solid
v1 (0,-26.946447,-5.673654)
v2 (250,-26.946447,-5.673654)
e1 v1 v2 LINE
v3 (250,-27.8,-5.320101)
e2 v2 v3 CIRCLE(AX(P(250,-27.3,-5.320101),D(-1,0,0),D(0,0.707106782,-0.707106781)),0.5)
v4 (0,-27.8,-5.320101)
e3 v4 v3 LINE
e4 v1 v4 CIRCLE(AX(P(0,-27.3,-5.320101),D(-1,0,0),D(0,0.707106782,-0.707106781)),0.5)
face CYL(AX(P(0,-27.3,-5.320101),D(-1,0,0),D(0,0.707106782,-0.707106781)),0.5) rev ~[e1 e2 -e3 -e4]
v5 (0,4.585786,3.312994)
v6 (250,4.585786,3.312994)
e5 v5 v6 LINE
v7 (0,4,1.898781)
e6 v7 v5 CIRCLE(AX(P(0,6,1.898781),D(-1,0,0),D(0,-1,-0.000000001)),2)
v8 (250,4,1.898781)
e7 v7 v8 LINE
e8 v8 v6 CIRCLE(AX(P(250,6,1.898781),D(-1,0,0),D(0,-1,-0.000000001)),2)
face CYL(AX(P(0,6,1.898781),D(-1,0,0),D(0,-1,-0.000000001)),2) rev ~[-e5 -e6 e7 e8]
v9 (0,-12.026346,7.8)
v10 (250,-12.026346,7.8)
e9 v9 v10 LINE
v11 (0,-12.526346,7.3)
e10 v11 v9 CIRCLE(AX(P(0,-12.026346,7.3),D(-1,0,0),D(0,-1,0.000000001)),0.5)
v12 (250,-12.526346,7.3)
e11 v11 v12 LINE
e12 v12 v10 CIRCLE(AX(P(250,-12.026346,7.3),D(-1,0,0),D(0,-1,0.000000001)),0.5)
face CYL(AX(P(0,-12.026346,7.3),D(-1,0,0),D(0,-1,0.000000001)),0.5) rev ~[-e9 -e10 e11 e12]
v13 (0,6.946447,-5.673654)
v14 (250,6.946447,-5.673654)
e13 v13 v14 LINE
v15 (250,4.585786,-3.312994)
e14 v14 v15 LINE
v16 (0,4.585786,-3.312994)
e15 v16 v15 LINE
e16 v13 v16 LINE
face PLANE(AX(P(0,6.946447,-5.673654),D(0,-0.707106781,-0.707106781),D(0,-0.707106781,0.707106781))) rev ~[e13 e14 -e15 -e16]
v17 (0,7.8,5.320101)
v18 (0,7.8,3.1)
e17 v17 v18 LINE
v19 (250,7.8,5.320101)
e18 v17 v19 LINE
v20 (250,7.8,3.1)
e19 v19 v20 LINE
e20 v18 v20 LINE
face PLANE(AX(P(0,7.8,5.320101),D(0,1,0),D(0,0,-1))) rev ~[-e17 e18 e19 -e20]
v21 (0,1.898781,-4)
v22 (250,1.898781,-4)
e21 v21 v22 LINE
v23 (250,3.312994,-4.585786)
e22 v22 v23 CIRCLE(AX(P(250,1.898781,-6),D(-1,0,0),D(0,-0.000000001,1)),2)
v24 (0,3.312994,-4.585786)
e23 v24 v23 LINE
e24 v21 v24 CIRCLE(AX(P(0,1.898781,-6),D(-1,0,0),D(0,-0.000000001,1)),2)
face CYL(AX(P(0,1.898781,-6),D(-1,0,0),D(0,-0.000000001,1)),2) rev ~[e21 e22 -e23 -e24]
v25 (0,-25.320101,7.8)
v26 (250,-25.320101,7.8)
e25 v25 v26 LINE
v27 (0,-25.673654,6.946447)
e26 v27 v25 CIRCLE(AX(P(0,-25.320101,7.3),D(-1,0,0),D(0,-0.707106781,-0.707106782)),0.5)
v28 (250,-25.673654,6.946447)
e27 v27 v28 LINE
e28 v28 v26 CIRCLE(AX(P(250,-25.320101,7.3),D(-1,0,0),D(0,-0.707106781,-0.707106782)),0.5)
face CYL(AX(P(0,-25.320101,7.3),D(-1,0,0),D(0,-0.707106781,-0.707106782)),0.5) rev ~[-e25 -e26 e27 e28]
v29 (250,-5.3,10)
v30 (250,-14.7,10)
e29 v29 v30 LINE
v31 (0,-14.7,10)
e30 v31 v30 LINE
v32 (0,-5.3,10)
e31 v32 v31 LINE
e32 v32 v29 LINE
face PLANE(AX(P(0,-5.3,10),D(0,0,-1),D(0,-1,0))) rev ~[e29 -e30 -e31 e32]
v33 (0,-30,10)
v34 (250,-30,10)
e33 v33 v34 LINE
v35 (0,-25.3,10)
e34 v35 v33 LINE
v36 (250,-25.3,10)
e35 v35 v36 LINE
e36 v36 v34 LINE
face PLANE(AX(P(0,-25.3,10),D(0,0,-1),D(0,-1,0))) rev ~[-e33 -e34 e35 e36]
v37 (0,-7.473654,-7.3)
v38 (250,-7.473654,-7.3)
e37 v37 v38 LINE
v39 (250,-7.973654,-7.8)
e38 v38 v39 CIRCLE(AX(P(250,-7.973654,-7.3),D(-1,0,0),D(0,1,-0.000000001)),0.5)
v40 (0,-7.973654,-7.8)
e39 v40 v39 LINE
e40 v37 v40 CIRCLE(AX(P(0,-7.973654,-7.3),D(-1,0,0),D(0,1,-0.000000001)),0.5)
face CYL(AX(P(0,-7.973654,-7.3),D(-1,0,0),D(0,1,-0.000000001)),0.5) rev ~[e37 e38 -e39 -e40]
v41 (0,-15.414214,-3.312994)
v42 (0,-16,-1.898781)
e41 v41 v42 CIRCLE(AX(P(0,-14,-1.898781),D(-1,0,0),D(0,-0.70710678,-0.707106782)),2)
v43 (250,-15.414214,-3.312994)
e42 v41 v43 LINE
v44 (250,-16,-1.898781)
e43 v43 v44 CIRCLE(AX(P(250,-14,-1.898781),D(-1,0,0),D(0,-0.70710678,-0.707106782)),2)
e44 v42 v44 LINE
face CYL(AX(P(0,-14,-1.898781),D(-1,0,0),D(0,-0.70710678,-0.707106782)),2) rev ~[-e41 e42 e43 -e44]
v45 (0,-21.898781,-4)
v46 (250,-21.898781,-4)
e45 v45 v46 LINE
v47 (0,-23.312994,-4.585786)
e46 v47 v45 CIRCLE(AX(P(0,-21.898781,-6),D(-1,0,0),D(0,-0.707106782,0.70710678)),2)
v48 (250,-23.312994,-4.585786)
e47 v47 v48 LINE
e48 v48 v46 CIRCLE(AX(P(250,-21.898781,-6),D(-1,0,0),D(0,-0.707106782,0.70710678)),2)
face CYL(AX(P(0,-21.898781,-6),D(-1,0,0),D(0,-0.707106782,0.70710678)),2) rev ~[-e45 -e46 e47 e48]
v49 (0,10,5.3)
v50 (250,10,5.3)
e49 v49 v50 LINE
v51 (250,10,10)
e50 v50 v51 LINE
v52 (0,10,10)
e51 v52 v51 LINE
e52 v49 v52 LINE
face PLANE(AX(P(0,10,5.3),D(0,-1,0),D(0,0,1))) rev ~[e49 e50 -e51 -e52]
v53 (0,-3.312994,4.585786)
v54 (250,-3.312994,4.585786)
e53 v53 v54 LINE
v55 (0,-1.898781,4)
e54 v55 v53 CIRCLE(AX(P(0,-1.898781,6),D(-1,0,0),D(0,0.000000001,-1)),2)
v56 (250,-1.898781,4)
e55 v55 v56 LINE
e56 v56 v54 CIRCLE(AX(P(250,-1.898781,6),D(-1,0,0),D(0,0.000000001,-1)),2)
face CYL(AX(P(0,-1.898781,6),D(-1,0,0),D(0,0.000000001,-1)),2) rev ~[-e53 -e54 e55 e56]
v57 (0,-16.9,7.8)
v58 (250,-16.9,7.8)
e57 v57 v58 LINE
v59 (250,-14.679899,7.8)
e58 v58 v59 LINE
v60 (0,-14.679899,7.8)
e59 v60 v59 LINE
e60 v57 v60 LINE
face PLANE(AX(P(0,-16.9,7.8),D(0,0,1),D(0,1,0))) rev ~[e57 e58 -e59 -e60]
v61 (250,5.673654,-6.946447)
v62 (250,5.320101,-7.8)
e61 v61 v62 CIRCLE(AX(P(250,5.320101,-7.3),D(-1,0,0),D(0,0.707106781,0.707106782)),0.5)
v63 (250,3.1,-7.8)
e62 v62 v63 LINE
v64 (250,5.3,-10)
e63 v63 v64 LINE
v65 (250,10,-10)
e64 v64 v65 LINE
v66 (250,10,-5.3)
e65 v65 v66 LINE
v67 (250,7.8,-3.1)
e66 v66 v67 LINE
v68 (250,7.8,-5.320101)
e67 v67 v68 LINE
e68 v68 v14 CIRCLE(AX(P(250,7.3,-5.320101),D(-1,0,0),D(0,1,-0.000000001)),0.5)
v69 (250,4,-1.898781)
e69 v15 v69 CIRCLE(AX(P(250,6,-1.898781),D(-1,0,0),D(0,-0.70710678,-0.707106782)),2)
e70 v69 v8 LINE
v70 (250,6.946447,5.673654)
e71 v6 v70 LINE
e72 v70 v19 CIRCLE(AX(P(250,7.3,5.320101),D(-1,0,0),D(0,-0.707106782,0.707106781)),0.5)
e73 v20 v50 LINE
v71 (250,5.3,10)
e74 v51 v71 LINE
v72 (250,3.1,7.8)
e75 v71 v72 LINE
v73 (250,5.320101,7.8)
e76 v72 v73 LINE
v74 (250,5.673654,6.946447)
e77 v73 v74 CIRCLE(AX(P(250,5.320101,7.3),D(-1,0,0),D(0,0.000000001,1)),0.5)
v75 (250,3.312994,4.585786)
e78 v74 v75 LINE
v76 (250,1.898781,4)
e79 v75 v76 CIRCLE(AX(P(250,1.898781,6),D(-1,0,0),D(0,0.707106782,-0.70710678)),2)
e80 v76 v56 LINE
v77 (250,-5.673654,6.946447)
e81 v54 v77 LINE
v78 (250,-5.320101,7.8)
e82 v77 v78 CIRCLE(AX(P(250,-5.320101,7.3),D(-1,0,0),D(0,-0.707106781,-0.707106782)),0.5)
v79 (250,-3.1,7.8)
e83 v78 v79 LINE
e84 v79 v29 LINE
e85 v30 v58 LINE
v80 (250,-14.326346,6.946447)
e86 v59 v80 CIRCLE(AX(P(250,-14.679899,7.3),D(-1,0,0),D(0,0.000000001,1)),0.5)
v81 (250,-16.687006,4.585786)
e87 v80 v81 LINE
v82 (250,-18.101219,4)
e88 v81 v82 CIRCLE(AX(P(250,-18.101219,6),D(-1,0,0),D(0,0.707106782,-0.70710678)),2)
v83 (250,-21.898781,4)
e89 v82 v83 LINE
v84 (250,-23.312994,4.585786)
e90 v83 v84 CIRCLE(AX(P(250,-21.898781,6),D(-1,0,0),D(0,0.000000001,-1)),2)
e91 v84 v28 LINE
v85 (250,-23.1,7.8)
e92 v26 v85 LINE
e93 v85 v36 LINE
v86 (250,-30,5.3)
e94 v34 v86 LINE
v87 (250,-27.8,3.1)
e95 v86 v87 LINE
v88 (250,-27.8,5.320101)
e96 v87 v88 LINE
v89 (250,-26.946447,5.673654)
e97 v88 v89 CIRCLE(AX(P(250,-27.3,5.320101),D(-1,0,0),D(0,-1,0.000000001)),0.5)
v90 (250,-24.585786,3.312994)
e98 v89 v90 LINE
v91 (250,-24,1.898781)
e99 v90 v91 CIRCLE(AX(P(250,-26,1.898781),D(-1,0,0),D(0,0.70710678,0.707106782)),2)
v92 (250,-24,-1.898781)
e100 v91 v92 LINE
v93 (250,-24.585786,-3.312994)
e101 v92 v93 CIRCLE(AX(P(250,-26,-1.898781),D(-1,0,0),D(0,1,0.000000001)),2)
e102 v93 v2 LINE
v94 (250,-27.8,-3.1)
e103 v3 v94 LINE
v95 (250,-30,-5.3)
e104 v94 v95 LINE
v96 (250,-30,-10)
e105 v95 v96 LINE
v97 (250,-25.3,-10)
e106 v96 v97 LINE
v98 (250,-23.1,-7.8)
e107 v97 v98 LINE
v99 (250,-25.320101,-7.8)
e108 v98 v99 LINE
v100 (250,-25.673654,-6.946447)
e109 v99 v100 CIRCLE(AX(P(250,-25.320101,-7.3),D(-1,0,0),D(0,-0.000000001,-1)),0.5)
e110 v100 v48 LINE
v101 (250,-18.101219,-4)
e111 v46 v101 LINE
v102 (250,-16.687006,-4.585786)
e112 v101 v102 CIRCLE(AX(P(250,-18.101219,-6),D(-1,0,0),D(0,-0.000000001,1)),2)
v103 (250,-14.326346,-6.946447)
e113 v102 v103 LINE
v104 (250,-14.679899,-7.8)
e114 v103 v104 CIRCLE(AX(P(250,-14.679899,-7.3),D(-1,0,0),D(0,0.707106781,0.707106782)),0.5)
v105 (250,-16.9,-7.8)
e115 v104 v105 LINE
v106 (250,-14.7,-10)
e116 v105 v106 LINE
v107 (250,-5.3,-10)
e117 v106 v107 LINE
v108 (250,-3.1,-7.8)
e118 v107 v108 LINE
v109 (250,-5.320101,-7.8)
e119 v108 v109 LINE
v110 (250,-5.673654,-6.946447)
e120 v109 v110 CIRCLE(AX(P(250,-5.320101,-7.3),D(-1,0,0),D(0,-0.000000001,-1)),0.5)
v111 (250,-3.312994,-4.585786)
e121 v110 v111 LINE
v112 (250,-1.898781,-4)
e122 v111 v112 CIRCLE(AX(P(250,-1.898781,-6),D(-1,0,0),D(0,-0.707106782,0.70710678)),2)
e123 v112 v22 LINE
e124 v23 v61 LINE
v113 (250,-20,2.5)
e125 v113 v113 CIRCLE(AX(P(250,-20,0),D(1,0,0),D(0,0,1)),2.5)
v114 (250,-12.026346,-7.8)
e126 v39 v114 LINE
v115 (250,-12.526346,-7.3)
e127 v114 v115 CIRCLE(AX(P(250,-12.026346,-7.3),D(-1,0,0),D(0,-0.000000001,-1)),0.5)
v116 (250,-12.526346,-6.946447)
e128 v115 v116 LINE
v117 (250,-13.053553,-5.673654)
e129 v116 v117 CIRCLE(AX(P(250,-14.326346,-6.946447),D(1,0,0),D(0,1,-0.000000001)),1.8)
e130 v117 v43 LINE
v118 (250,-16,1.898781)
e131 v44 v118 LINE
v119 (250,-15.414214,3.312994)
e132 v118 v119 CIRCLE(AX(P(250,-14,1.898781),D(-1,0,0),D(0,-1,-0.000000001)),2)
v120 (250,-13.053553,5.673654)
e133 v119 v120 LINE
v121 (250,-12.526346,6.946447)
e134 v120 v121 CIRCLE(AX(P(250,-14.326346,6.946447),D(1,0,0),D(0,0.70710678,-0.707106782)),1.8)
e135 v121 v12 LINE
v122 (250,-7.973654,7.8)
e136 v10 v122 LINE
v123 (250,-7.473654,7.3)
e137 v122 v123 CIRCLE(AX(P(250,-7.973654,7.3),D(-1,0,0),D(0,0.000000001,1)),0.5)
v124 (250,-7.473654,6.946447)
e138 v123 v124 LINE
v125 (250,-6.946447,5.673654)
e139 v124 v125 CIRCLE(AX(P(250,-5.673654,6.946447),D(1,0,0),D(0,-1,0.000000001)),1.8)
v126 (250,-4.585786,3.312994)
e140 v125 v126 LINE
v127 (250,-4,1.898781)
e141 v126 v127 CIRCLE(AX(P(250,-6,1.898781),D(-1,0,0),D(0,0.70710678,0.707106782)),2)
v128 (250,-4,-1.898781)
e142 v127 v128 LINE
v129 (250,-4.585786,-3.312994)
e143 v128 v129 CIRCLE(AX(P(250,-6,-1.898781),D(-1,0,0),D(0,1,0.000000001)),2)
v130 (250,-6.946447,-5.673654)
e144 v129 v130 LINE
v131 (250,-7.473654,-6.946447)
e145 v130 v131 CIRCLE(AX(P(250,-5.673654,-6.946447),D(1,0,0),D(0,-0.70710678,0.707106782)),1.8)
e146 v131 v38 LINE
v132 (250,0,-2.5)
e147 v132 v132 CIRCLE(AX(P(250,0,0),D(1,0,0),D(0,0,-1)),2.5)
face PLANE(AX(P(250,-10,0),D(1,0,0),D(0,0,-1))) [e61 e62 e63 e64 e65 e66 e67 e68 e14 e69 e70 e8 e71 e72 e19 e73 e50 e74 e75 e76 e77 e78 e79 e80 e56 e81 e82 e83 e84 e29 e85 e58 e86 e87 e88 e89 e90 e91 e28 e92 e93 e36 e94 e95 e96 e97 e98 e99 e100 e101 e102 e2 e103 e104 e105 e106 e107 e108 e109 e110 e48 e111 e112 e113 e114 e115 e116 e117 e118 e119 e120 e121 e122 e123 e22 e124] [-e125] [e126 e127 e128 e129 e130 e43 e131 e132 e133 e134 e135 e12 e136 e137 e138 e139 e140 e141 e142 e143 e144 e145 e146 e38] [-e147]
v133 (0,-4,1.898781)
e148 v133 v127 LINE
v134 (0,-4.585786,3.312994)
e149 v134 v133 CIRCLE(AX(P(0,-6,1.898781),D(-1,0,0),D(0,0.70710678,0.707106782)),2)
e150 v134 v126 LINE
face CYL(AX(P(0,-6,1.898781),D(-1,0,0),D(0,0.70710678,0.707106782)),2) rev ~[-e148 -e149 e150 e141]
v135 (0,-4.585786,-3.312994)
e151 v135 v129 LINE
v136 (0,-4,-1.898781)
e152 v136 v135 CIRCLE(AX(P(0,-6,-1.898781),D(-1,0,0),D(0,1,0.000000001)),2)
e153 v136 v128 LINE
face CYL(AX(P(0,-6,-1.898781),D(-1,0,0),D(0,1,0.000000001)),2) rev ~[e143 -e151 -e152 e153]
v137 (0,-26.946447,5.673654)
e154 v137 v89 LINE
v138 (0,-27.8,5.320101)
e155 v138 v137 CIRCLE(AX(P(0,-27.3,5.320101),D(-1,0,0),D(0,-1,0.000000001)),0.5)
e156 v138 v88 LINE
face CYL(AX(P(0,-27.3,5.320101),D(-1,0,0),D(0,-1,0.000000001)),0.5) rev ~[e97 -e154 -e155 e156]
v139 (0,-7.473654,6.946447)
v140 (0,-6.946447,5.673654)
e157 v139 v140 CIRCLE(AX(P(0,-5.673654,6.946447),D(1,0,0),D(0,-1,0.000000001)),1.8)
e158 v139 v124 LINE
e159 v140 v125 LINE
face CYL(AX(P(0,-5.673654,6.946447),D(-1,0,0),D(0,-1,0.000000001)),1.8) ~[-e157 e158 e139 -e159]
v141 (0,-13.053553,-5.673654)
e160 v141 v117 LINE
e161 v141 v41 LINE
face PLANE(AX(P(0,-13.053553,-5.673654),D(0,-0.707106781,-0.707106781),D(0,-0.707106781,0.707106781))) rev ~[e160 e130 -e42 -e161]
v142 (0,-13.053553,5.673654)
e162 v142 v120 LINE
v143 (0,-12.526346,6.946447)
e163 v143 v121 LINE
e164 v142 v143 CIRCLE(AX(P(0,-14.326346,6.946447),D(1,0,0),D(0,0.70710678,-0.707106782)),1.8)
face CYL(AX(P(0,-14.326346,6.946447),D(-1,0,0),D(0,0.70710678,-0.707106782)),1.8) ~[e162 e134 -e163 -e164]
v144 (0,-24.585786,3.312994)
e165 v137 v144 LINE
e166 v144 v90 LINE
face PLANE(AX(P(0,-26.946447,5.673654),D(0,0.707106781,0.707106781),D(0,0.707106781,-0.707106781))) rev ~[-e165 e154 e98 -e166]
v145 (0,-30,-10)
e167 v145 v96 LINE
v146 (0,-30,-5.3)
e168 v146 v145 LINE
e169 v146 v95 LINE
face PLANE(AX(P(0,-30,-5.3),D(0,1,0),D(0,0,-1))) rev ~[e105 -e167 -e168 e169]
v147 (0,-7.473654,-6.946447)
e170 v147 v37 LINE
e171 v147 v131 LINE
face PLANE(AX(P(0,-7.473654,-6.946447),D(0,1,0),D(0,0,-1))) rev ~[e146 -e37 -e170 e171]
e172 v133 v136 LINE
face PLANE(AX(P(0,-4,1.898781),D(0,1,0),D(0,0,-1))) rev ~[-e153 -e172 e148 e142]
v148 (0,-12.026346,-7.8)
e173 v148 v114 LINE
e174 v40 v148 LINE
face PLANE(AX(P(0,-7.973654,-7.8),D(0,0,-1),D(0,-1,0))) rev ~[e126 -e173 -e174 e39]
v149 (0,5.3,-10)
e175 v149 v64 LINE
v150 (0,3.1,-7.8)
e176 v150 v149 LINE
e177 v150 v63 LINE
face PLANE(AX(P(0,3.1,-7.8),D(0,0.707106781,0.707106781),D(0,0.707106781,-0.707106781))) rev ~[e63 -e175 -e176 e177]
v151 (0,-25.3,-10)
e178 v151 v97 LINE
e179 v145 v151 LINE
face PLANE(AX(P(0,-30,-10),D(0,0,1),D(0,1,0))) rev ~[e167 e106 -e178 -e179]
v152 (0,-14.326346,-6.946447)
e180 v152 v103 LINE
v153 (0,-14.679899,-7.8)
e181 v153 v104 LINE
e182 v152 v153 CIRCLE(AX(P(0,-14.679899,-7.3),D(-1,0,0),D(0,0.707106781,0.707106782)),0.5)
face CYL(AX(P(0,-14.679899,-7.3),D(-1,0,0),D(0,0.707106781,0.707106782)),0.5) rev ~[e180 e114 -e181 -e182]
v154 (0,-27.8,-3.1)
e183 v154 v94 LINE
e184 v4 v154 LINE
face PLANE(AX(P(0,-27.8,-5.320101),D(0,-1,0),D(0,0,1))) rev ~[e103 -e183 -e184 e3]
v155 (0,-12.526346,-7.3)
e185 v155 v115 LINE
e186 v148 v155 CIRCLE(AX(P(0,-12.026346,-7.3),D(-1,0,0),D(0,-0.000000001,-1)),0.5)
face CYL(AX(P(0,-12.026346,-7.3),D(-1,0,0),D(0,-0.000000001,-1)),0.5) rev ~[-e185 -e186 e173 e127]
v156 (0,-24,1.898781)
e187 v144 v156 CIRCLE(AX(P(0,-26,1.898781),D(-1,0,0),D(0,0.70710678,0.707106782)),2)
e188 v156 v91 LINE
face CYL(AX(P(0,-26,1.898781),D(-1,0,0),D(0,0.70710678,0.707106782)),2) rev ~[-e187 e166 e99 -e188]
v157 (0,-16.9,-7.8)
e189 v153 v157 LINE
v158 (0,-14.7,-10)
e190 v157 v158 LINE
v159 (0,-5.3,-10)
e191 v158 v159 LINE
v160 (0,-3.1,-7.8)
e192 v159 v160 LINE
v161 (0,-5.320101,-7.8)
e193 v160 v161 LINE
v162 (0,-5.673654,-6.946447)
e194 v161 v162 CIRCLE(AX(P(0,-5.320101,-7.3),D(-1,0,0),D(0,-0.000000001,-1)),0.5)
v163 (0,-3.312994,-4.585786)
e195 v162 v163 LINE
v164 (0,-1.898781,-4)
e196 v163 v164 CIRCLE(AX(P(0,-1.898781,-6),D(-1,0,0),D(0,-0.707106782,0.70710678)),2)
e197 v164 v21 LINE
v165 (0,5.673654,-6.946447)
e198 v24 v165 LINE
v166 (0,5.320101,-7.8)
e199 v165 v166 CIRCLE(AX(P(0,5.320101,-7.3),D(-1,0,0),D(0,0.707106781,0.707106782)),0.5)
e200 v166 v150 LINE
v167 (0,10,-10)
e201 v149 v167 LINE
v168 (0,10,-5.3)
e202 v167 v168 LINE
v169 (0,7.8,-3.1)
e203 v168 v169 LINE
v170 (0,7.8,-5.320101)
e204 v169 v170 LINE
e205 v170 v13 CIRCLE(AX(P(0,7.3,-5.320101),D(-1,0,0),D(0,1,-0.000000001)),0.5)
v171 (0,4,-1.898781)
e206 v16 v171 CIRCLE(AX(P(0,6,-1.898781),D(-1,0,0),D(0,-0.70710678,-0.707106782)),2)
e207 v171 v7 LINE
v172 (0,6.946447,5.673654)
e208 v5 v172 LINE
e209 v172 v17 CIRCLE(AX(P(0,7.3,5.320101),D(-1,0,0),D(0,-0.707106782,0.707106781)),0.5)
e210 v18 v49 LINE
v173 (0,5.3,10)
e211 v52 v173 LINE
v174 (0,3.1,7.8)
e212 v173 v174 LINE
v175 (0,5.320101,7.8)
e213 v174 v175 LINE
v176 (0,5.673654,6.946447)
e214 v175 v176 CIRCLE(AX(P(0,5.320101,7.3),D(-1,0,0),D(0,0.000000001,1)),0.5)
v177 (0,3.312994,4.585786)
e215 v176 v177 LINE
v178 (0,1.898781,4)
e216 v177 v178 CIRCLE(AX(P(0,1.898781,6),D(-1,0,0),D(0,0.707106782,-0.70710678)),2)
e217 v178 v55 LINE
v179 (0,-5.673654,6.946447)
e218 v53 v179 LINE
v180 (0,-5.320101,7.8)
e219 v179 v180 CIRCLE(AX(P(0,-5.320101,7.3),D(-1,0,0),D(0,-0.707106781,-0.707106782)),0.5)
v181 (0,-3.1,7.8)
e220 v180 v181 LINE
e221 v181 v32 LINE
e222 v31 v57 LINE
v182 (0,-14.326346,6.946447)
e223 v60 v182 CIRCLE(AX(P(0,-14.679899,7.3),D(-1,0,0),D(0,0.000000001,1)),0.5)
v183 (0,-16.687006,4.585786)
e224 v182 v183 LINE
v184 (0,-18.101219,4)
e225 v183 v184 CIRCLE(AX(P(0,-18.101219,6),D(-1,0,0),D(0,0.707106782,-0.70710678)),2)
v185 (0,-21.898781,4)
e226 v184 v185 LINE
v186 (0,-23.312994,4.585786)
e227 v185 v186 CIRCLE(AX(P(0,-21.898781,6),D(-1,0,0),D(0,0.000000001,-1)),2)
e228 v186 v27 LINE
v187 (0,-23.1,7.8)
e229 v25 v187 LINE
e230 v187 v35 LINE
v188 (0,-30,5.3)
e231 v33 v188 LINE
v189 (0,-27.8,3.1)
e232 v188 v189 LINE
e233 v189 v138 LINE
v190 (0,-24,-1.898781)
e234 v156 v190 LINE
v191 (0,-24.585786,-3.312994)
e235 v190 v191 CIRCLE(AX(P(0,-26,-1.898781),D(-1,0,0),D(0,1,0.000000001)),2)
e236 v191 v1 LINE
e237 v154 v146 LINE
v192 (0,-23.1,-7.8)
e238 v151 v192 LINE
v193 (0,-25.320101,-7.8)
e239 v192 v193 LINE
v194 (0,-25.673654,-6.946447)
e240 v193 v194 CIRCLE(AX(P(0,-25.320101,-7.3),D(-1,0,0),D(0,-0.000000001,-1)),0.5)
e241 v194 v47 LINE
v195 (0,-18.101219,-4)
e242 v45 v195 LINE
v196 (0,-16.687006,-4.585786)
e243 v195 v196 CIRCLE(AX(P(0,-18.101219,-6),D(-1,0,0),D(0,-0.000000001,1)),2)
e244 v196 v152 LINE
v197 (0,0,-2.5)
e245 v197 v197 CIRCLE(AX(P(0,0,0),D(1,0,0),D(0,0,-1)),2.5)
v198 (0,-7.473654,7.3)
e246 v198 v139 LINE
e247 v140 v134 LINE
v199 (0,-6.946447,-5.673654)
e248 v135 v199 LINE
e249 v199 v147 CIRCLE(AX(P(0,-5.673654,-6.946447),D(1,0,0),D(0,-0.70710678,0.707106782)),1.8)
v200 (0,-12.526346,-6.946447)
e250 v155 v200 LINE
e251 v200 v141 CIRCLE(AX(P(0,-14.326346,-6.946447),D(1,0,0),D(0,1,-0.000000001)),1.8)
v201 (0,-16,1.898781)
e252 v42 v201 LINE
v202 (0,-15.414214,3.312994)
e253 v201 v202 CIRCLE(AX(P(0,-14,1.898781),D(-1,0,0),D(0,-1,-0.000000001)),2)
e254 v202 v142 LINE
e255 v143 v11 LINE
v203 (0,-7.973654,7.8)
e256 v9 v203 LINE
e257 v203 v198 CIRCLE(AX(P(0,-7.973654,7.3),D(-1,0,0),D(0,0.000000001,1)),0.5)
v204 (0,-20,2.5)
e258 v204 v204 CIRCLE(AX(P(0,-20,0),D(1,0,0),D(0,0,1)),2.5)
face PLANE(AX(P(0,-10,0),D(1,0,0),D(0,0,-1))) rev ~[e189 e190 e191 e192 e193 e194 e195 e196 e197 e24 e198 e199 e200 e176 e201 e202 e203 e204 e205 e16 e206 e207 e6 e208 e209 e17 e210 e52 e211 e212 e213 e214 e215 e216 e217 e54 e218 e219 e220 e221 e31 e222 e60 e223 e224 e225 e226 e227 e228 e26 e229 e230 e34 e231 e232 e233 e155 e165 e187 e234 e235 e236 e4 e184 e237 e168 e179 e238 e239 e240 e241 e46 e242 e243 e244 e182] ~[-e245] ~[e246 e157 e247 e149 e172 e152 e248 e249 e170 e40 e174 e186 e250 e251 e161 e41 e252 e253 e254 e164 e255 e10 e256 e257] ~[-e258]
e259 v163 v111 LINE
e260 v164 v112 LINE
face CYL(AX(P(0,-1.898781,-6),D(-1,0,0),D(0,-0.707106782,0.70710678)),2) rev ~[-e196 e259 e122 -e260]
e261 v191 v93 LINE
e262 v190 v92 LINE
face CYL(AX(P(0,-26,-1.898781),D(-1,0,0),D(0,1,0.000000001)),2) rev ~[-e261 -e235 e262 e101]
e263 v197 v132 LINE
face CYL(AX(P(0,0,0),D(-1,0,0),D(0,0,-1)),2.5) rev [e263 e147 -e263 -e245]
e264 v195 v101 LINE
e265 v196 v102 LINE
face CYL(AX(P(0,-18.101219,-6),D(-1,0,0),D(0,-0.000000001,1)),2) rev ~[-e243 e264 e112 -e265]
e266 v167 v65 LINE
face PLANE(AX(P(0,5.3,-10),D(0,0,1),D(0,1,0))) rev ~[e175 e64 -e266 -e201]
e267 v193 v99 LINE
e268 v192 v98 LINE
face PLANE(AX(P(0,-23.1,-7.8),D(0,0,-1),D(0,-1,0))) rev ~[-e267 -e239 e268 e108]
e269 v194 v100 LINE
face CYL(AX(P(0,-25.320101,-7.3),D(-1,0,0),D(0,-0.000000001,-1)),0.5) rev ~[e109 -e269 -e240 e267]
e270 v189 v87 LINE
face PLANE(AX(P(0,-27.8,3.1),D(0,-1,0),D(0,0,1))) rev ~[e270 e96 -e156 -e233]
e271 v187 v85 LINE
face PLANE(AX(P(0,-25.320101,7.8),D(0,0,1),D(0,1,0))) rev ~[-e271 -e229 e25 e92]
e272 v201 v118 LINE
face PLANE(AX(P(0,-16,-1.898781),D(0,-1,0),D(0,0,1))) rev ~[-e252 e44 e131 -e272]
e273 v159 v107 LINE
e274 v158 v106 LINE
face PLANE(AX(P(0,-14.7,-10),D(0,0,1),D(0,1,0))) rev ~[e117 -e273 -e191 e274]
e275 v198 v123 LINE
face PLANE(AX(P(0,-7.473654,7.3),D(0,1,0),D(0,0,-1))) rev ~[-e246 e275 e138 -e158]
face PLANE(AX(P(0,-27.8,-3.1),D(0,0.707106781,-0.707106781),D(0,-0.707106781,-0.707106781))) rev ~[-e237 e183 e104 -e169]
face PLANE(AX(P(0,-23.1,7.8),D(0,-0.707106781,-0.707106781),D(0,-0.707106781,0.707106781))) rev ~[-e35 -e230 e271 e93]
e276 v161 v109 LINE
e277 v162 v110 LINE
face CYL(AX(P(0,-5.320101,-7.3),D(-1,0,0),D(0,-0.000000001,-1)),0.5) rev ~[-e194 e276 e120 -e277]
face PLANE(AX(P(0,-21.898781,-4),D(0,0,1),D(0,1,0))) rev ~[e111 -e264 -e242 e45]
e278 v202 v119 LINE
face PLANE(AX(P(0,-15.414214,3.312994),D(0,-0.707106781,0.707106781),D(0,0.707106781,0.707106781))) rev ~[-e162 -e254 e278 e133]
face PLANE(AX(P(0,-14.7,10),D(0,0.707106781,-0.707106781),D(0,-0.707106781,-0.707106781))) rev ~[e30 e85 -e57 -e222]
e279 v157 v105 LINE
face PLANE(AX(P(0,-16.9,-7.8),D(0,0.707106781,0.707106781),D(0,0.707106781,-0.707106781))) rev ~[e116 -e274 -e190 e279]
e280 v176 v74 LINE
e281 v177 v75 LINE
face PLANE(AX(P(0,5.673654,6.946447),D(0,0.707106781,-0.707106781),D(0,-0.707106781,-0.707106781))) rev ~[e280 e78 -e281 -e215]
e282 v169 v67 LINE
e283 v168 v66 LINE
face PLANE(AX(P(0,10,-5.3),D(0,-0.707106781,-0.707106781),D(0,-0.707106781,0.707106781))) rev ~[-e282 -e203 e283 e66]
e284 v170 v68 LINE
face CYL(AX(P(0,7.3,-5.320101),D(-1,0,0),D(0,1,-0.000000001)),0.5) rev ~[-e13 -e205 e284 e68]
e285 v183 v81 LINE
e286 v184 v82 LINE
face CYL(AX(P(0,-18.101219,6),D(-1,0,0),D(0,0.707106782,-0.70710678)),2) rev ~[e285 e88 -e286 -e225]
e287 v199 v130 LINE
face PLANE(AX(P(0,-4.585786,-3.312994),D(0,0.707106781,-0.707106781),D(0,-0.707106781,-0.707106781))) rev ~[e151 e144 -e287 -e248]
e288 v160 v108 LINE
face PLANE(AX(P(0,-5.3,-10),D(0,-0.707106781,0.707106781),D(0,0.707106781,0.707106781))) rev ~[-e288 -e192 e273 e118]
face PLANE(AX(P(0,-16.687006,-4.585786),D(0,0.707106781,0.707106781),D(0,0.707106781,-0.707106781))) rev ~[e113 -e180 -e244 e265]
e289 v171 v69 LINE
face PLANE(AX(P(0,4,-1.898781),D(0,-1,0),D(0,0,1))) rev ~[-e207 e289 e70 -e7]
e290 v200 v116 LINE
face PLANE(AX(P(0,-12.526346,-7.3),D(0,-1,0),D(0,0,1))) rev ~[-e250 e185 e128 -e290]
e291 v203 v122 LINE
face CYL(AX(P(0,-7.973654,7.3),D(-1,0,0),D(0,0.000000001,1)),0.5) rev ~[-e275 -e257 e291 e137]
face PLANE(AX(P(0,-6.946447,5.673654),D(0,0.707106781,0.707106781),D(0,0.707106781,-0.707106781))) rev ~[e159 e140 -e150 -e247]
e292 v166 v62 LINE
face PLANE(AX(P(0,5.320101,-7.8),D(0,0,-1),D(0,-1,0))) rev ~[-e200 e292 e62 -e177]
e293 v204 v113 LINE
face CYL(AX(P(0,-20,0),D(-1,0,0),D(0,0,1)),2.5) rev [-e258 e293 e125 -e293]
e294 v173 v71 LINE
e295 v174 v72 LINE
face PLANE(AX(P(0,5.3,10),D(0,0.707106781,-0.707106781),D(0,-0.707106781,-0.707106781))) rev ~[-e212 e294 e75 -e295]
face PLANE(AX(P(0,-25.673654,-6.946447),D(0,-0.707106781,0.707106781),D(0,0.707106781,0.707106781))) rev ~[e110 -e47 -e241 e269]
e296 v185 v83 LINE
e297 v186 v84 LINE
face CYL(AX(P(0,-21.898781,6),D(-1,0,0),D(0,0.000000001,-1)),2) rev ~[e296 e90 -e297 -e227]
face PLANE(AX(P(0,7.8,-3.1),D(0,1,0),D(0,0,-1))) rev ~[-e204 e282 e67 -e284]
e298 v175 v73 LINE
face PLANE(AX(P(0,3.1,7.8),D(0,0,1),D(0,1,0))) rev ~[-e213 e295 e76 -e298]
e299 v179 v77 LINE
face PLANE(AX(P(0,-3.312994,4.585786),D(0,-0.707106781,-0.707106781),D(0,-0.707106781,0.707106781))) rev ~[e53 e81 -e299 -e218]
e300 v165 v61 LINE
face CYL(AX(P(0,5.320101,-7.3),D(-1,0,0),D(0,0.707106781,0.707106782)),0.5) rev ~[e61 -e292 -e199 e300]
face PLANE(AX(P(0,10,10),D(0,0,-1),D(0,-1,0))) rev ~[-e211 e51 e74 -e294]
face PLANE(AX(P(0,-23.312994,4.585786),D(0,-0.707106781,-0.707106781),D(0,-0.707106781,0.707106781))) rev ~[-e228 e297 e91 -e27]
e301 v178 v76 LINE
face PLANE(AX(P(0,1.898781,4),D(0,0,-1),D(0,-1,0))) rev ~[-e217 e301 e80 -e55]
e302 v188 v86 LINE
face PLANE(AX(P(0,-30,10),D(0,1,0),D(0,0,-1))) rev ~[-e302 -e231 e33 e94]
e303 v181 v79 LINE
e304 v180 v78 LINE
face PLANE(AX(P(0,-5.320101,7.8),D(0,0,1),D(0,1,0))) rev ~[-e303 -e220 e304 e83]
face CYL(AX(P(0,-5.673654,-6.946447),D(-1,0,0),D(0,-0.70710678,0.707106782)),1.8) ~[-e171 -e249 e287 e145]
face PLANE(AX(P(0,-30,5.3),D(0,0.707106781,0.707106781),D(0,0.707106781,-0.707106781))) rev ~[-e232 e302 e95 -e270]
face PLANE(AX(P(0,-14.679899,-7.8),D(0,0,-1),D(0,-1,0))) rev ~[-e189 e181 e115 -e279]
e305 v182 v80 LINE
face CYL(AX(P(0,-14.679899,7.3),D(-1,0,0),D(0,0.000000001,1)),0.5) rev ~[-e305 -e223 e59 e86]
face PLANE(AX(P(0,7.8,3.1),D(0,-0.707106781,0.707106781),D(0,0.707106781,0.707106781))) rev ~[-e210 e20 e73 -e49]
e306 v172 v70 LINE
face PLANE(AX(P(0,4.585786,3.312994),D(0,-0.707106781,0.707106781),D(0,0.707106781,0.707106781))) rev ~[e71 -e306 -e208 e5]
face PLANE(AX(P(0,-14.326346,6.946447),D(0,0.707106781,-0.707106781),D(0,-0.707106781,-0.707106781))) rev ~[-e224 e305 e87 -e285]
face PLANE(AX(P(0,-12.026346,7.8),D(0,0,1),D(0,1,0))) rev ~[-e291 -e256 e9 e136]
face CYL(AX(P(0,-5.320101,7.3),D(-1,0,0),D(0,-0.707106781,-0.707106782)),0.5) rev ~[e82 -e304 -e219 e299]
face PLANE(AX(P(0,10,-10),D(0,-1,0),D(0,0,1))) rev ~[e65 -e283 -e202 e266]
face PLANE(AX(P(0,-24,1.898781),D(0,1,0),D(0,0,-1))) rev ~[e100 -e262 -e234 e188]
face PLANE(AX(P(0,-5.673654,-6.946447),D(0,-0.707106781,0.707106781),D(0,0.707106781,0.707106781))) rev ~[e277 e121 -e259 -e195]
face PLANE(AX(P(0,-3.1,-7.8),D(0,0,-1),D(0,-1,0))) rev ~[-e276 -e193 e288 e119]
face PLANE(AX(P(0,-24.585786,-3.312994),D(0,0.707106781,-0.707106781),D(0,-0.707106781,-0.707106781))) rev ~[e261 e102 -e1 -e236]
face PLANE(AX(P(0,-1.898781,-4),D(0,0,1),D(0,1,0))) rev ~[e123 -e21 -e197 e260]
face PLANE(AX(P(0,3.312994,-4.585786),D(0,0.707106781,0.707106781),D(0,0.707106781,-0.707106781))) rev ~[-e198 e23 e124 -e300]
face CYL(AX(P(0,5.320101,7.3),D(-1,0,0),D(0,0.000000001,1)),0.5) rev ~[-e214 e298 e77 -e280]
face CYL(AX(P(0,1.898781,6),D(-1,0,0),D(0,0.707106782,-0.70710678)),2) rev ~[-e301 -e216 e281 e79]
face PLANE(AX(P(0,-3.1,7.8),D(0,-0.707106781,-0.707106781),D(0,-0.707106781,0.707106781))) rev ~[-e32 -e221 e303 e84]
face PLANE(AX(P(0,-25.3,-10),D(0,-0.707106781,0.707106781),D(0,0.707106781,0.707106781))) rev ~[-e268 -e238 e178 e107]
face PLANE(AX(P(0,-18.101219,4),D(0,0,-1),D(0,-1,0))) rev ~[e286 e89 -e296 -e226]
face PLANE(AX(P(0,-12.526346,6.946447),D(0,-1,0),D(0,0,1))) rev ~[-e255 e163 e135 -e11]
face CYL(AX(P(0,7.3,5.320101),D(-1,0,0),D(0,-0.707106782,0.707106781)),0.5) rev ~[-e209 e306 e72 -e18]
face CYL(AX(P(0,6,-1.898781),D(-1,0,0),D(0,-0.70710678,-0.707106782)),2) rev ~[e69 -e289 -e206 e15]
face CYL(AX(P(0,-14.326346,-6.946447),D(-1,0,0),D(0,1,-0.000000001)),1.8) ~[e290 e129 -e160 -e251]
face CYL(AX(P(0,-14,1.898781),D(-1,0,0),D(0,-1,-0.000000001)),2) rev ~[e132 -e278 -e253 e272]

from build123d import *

# Parameters (mm, degrees)
SKETCH1_R           = 2.5
BOSS_EXTRUDE1_DEPTH = 250


with BuildPart() as part:
    # Sketch1 → Boss-Extrude1 (new body)
    with BuildSketch(Plane(origin=(0, 0, 0), x_dir=(0, 0, -1), z_dir=(1, 0, 0))):
        with BuildLine():
            Line((-10, 10), (-10, 5.3))
            Line((-10, 5.3), (-7.8, 3.1))
            Line((-7.8, 3.1), (-7.8, 5.320101013))
            ThreePointArc((-7.8, 5.320101013), (-7.491341716, 5.782040779), (-6.946446609, 5.673654403))
            Line((-6.946446609, 5.673654403), (-4.585786438, 3.312994231))
            ThreePointArc((-4.585786438, 3.312994231), (-4.152240935, 2.664147534), (-4, 1.898780669))
            Line((-4, 1.898780669), (-4, 0))
            Line((-4, 0), (-4, -1.898780669))
            ThreePointArc((-4, -1.898780669), (-4.152240935, -2.664147534), (-4.585786438, -3.312994231))
            Line((-4.585786438, -3.312994231), (-6.946446609, -5.673654403))
            ThreePointArc((-6.946446609, -5.673654403), (-7.491341716, -5.782040779), (-7.8, -5.320101013))
            Line((-7.8, -5.320101013), (-7.8, -3.1))
            Line((-7.8, -3.1), (-10, -5.3))
            Line((-10, -5.3), (-10, -14.7))
            Line((-10, -14.7), (-7.8, -16.9))
            Line((-7.8, -16.9), (-7.8, -14.679898987))
            ThreePointArc((-7.8, -14.679898987), (-7.491341716, -14.217959221), (-6.946446609, -14.326345597))
            Line((-6.946446609, -14.326345597), (-4.585786438, -16.687005769))
            ThreePointArc((-4.585786438, -16.687005769), (-4.152240935, -17.335852466), (-4, -18.101219331))
            Line((-4, -18.101219331), (-4, -20))
            Line((-4, -20), (-4, -21.898780669))
            ThreePointArc((-4, -21.898780669), (-4.152240935, -22.664147534), (-4.585786438, -23.312994231))
            Line((-4.585786438, -23.312994231), (-6.946446609, -25.673654403))
            ThreePointArc((-6.946446609, -25.673654403), (-7.491341716, -25.782040779), (-7.8, -25.320101013))
            Line((-7.8, -25.320101013), (-7.8, -23.1))
            Line((-7.8, -23.1), (-10, -25.3))
            Line((-10, -25.3), (-10, -30))
            Line((-10, -30), (-5.3, -30))
            Line((-5.3, -30), (-3.1, -27.8))
            Line((-3.1, -27.8), (-5.320101013, -27.8))
            ThreePointArc((-5.320101013, -27.8), (-5.782040779, -27.491341716), (-5.673654403, -26.946446609))
            Line((-5.673654403, -26.946446609), (-3.312994231, -24.585786438))
            ThreePointArc((-3.312994231, -24.585786438), (-2.664147534, -24.152240935), (-1.898780669, -24))
            Line((-1.898780669, -24), (1.898780669, -24))
            ThreePointArc((1.898780669, -24), (2.664147534, -24.152240935), (3.312994231, -24.585786438))
            Line((3.312994231, -24.585786438), (5.673654403, -26.946446609))
            ThreePointArc((5.673654403, -26.946446609), (5.782040779, -27.491341716), (5.320101013, -27.8))
            Line((5.320101013, -27.8), (3.1, -27.8))
            Line((3.1, -27.8), (5.3, -30))
            Line((5.3, -30), (10, -30))
            Line((10, -30), (10, -25.3))
            Line((10, -25.3), (7.8, -23.1))
            Line((7.8, -23.1), (7.8, -25.320101013))
            ThreePointArc((7.8, -25.320101013), (7.491341716, -25.782040779), (6.946446609, -25.673654403))
            Line((6.946446609, -25.673654403), (4.585786438, -23.312994231))
            ThreePointArc((4.585786438, -23.312994231), (4.152240935, -22.664147534), (4, -21.898780669))
            Line((4, -21.898780669), (4, -20))
            Line((4, -20), (4, -18.101219331))
            ThreePointArc((4, -18.101219331), (4.152240935, -17.335852466), (4.585786438, -16.687005769))
            Line((4.585786438, -16.687005769), (6.946446609, -14.326345597))
            ThreePointArc((6.946446609, -14.326345597), (7.491341716, -14.217959221), (7.8, -14.679898987))
            Line((7.8, -14.679898987), (7.8, -16.9))
            Line((7.8, -16.9), (10, -14.7))
            Line((10, -14.7), (10, -5.3))
            Line((10, -5.3), (7.8, -3.1))
            Line((7.8, -3.1), (7.8, -5.320101013))
            ThreePointArc((7.8, -5.320101013), (7.491341716, -5.782040779), (6.946446609, -5.673654403))
            Line((6.946446609, -5.673654403), (4.585786438, -3.312994231))
            ThreePointArc((4.585786438, -3.312994231), (4.152240935, -2.664147534), (4, -1.898780669))
            Line((4, -1.898780669), (4, 0))
            Line((4, 0), (4, 1.898780669))
            ThreePointArc((4, 1.898780669), (4.152240935, 2.664147534), (4.585786438, 3.312994231))
            Line((4.585786438, 3.312994231), (6.946446609, 5.673654403))
            ThreePointArc((6.946446609, 5.673654403), (7.491341716, 5.782040779), (7.8, 5.320101013))
            Line((7.8, 5.320101013), (7.8, 3.1))
            Line((7.8, 3.1), (10, 5.3))
            Line((10, 5.3), (10, 10))
            Line((10, 10), (5.3, 10))
            Line((5.3, 10), (3.1, 7.8))
            Line((3.1, 7.8), (5.320101013, 7.8))
            ThreePointArc((5.320101013, 7.8), (5.782040779, 7.491341716), (5.673654403, 6.946446609))
            Line((5.673654403, 6.946446609), (3.312994231, 4.585786438))
            ThreePointArc((3.312994231, 4.585786438), (2.664147534, 4.152240935), (1.898780669, 4))
            Line((1.898780669, 4), (-1.898780669, 4))
            ThreePointArc((-1.898780669, 4), (-2.664147534, 4.152240935), (-3.312994231, 4.585786438))
            Line((-3.312994231, 4.585786438), (-5.673654403, 6.946446609))
            ThreePointArc((-5.673654403, 6.946446609), (-5.782040779, 7.491341716), (-5.320101013, 7.8))
            Line((-5.320101013, 7.8), (-3.1, 7.8))
            Line((-3.1, 7.8), (-5.3, 10))
            Line((-5.3, 10), (-10, 10))
        make_face()
        Circle(SKETCH1_R, mode=Mode.SUBTRACT)
        with Locations(Location((0, -20, 0), (0, 0, 180))):
            Circle(SKETCH1_R, mode=Mode.SUBTRACT)
        with BuildLine():
            Line((-5.673654403, -6.946446609), (-3.312994231, -4.585786438))
            ThreePointArc((-3.312994231, -4.585786438), (-2.664147534, -4.152240935), (-1.898780669, -4))
            Line((-1.898780669, -4), (1.898780669, -4))
            ThreePointArc((1.898780669, -4), (2.664147534, -4.152240935), (3.312994231, -4.585786438))
            Line((3.312994231, -4.585786438), (5.673654403, -6.946446609))
            ThreePointArc((5.673654403, -6.946446609), (6.257616431, -7.336637562), (6.946446609, -7.473654403))
            Line((6.946446609, -7.473654403), (7.3, -7.473654403))
            ThreePointArc((7.3, -7.473654403), (7.653553391, -7.620101013), (7.8, -7.973654403))
            Line((7.8, -7.973654403), (7.8, -12.026345597))
            ThreePointArc((7.8, -12.026345597), (7.653553391, -12.379898987), (7.3, -12.526345597))
            Line((7.3, -12.526345597), (6.946446609, -12.526345597))
            ThreePointArc((6.946446609, -12.526345597), (6.257616431, -12.663362438), (5.673654403, -13.053553391))
            Line((5.673654403, -13.053553391), (3.312994231, -15.414213562))
            ThreePointArc((3.312994231, -15.414213562), (2.664147534, -15.847759065), (1.898780669, -16))
            Line((1.898780669, -16), (-1.898780669, -16))
            ThreePointArc((-1.898780669, -16), (-2.664147534, -15.847759065), (-3.312994231, -15.414213562))
            Line((-3.312994231, -15.414213562), (-5.673654403, -13.053553391))
            ThreePointArc((-5.673654403, -13.053553391), (-6.257616431, -12.663362438), (-6.946446609, -12.526345597))
            Line((-6.946446609, -12.526345597), (-7.3, -12.526345597))
            ThreePointArc((-7.3, -12.526345597), (-7.653553391, -12.379898987), (-7.8, -12.026345597))
            Line((-7.8, -12.026345597), (-7.8, -7.973654403))
            ThreePointArc((-7.8, -7.973654403), (-7.653553391, -7.620101013), (-7.3, -7.473654403))
            Line((-7.3, -7.473654403), (-6.946446609, -7.473654403))
            ThreePointArc((-6.946446609, -7.473654403), (-6.257616431, -7.336637562), (-5.673654403, -6.946446609))
        make_face(mode=Mode.SUBTRACT)
    extrude(amount=BOSS_EXTRUDE1_DEPTH)


solid = part.part
